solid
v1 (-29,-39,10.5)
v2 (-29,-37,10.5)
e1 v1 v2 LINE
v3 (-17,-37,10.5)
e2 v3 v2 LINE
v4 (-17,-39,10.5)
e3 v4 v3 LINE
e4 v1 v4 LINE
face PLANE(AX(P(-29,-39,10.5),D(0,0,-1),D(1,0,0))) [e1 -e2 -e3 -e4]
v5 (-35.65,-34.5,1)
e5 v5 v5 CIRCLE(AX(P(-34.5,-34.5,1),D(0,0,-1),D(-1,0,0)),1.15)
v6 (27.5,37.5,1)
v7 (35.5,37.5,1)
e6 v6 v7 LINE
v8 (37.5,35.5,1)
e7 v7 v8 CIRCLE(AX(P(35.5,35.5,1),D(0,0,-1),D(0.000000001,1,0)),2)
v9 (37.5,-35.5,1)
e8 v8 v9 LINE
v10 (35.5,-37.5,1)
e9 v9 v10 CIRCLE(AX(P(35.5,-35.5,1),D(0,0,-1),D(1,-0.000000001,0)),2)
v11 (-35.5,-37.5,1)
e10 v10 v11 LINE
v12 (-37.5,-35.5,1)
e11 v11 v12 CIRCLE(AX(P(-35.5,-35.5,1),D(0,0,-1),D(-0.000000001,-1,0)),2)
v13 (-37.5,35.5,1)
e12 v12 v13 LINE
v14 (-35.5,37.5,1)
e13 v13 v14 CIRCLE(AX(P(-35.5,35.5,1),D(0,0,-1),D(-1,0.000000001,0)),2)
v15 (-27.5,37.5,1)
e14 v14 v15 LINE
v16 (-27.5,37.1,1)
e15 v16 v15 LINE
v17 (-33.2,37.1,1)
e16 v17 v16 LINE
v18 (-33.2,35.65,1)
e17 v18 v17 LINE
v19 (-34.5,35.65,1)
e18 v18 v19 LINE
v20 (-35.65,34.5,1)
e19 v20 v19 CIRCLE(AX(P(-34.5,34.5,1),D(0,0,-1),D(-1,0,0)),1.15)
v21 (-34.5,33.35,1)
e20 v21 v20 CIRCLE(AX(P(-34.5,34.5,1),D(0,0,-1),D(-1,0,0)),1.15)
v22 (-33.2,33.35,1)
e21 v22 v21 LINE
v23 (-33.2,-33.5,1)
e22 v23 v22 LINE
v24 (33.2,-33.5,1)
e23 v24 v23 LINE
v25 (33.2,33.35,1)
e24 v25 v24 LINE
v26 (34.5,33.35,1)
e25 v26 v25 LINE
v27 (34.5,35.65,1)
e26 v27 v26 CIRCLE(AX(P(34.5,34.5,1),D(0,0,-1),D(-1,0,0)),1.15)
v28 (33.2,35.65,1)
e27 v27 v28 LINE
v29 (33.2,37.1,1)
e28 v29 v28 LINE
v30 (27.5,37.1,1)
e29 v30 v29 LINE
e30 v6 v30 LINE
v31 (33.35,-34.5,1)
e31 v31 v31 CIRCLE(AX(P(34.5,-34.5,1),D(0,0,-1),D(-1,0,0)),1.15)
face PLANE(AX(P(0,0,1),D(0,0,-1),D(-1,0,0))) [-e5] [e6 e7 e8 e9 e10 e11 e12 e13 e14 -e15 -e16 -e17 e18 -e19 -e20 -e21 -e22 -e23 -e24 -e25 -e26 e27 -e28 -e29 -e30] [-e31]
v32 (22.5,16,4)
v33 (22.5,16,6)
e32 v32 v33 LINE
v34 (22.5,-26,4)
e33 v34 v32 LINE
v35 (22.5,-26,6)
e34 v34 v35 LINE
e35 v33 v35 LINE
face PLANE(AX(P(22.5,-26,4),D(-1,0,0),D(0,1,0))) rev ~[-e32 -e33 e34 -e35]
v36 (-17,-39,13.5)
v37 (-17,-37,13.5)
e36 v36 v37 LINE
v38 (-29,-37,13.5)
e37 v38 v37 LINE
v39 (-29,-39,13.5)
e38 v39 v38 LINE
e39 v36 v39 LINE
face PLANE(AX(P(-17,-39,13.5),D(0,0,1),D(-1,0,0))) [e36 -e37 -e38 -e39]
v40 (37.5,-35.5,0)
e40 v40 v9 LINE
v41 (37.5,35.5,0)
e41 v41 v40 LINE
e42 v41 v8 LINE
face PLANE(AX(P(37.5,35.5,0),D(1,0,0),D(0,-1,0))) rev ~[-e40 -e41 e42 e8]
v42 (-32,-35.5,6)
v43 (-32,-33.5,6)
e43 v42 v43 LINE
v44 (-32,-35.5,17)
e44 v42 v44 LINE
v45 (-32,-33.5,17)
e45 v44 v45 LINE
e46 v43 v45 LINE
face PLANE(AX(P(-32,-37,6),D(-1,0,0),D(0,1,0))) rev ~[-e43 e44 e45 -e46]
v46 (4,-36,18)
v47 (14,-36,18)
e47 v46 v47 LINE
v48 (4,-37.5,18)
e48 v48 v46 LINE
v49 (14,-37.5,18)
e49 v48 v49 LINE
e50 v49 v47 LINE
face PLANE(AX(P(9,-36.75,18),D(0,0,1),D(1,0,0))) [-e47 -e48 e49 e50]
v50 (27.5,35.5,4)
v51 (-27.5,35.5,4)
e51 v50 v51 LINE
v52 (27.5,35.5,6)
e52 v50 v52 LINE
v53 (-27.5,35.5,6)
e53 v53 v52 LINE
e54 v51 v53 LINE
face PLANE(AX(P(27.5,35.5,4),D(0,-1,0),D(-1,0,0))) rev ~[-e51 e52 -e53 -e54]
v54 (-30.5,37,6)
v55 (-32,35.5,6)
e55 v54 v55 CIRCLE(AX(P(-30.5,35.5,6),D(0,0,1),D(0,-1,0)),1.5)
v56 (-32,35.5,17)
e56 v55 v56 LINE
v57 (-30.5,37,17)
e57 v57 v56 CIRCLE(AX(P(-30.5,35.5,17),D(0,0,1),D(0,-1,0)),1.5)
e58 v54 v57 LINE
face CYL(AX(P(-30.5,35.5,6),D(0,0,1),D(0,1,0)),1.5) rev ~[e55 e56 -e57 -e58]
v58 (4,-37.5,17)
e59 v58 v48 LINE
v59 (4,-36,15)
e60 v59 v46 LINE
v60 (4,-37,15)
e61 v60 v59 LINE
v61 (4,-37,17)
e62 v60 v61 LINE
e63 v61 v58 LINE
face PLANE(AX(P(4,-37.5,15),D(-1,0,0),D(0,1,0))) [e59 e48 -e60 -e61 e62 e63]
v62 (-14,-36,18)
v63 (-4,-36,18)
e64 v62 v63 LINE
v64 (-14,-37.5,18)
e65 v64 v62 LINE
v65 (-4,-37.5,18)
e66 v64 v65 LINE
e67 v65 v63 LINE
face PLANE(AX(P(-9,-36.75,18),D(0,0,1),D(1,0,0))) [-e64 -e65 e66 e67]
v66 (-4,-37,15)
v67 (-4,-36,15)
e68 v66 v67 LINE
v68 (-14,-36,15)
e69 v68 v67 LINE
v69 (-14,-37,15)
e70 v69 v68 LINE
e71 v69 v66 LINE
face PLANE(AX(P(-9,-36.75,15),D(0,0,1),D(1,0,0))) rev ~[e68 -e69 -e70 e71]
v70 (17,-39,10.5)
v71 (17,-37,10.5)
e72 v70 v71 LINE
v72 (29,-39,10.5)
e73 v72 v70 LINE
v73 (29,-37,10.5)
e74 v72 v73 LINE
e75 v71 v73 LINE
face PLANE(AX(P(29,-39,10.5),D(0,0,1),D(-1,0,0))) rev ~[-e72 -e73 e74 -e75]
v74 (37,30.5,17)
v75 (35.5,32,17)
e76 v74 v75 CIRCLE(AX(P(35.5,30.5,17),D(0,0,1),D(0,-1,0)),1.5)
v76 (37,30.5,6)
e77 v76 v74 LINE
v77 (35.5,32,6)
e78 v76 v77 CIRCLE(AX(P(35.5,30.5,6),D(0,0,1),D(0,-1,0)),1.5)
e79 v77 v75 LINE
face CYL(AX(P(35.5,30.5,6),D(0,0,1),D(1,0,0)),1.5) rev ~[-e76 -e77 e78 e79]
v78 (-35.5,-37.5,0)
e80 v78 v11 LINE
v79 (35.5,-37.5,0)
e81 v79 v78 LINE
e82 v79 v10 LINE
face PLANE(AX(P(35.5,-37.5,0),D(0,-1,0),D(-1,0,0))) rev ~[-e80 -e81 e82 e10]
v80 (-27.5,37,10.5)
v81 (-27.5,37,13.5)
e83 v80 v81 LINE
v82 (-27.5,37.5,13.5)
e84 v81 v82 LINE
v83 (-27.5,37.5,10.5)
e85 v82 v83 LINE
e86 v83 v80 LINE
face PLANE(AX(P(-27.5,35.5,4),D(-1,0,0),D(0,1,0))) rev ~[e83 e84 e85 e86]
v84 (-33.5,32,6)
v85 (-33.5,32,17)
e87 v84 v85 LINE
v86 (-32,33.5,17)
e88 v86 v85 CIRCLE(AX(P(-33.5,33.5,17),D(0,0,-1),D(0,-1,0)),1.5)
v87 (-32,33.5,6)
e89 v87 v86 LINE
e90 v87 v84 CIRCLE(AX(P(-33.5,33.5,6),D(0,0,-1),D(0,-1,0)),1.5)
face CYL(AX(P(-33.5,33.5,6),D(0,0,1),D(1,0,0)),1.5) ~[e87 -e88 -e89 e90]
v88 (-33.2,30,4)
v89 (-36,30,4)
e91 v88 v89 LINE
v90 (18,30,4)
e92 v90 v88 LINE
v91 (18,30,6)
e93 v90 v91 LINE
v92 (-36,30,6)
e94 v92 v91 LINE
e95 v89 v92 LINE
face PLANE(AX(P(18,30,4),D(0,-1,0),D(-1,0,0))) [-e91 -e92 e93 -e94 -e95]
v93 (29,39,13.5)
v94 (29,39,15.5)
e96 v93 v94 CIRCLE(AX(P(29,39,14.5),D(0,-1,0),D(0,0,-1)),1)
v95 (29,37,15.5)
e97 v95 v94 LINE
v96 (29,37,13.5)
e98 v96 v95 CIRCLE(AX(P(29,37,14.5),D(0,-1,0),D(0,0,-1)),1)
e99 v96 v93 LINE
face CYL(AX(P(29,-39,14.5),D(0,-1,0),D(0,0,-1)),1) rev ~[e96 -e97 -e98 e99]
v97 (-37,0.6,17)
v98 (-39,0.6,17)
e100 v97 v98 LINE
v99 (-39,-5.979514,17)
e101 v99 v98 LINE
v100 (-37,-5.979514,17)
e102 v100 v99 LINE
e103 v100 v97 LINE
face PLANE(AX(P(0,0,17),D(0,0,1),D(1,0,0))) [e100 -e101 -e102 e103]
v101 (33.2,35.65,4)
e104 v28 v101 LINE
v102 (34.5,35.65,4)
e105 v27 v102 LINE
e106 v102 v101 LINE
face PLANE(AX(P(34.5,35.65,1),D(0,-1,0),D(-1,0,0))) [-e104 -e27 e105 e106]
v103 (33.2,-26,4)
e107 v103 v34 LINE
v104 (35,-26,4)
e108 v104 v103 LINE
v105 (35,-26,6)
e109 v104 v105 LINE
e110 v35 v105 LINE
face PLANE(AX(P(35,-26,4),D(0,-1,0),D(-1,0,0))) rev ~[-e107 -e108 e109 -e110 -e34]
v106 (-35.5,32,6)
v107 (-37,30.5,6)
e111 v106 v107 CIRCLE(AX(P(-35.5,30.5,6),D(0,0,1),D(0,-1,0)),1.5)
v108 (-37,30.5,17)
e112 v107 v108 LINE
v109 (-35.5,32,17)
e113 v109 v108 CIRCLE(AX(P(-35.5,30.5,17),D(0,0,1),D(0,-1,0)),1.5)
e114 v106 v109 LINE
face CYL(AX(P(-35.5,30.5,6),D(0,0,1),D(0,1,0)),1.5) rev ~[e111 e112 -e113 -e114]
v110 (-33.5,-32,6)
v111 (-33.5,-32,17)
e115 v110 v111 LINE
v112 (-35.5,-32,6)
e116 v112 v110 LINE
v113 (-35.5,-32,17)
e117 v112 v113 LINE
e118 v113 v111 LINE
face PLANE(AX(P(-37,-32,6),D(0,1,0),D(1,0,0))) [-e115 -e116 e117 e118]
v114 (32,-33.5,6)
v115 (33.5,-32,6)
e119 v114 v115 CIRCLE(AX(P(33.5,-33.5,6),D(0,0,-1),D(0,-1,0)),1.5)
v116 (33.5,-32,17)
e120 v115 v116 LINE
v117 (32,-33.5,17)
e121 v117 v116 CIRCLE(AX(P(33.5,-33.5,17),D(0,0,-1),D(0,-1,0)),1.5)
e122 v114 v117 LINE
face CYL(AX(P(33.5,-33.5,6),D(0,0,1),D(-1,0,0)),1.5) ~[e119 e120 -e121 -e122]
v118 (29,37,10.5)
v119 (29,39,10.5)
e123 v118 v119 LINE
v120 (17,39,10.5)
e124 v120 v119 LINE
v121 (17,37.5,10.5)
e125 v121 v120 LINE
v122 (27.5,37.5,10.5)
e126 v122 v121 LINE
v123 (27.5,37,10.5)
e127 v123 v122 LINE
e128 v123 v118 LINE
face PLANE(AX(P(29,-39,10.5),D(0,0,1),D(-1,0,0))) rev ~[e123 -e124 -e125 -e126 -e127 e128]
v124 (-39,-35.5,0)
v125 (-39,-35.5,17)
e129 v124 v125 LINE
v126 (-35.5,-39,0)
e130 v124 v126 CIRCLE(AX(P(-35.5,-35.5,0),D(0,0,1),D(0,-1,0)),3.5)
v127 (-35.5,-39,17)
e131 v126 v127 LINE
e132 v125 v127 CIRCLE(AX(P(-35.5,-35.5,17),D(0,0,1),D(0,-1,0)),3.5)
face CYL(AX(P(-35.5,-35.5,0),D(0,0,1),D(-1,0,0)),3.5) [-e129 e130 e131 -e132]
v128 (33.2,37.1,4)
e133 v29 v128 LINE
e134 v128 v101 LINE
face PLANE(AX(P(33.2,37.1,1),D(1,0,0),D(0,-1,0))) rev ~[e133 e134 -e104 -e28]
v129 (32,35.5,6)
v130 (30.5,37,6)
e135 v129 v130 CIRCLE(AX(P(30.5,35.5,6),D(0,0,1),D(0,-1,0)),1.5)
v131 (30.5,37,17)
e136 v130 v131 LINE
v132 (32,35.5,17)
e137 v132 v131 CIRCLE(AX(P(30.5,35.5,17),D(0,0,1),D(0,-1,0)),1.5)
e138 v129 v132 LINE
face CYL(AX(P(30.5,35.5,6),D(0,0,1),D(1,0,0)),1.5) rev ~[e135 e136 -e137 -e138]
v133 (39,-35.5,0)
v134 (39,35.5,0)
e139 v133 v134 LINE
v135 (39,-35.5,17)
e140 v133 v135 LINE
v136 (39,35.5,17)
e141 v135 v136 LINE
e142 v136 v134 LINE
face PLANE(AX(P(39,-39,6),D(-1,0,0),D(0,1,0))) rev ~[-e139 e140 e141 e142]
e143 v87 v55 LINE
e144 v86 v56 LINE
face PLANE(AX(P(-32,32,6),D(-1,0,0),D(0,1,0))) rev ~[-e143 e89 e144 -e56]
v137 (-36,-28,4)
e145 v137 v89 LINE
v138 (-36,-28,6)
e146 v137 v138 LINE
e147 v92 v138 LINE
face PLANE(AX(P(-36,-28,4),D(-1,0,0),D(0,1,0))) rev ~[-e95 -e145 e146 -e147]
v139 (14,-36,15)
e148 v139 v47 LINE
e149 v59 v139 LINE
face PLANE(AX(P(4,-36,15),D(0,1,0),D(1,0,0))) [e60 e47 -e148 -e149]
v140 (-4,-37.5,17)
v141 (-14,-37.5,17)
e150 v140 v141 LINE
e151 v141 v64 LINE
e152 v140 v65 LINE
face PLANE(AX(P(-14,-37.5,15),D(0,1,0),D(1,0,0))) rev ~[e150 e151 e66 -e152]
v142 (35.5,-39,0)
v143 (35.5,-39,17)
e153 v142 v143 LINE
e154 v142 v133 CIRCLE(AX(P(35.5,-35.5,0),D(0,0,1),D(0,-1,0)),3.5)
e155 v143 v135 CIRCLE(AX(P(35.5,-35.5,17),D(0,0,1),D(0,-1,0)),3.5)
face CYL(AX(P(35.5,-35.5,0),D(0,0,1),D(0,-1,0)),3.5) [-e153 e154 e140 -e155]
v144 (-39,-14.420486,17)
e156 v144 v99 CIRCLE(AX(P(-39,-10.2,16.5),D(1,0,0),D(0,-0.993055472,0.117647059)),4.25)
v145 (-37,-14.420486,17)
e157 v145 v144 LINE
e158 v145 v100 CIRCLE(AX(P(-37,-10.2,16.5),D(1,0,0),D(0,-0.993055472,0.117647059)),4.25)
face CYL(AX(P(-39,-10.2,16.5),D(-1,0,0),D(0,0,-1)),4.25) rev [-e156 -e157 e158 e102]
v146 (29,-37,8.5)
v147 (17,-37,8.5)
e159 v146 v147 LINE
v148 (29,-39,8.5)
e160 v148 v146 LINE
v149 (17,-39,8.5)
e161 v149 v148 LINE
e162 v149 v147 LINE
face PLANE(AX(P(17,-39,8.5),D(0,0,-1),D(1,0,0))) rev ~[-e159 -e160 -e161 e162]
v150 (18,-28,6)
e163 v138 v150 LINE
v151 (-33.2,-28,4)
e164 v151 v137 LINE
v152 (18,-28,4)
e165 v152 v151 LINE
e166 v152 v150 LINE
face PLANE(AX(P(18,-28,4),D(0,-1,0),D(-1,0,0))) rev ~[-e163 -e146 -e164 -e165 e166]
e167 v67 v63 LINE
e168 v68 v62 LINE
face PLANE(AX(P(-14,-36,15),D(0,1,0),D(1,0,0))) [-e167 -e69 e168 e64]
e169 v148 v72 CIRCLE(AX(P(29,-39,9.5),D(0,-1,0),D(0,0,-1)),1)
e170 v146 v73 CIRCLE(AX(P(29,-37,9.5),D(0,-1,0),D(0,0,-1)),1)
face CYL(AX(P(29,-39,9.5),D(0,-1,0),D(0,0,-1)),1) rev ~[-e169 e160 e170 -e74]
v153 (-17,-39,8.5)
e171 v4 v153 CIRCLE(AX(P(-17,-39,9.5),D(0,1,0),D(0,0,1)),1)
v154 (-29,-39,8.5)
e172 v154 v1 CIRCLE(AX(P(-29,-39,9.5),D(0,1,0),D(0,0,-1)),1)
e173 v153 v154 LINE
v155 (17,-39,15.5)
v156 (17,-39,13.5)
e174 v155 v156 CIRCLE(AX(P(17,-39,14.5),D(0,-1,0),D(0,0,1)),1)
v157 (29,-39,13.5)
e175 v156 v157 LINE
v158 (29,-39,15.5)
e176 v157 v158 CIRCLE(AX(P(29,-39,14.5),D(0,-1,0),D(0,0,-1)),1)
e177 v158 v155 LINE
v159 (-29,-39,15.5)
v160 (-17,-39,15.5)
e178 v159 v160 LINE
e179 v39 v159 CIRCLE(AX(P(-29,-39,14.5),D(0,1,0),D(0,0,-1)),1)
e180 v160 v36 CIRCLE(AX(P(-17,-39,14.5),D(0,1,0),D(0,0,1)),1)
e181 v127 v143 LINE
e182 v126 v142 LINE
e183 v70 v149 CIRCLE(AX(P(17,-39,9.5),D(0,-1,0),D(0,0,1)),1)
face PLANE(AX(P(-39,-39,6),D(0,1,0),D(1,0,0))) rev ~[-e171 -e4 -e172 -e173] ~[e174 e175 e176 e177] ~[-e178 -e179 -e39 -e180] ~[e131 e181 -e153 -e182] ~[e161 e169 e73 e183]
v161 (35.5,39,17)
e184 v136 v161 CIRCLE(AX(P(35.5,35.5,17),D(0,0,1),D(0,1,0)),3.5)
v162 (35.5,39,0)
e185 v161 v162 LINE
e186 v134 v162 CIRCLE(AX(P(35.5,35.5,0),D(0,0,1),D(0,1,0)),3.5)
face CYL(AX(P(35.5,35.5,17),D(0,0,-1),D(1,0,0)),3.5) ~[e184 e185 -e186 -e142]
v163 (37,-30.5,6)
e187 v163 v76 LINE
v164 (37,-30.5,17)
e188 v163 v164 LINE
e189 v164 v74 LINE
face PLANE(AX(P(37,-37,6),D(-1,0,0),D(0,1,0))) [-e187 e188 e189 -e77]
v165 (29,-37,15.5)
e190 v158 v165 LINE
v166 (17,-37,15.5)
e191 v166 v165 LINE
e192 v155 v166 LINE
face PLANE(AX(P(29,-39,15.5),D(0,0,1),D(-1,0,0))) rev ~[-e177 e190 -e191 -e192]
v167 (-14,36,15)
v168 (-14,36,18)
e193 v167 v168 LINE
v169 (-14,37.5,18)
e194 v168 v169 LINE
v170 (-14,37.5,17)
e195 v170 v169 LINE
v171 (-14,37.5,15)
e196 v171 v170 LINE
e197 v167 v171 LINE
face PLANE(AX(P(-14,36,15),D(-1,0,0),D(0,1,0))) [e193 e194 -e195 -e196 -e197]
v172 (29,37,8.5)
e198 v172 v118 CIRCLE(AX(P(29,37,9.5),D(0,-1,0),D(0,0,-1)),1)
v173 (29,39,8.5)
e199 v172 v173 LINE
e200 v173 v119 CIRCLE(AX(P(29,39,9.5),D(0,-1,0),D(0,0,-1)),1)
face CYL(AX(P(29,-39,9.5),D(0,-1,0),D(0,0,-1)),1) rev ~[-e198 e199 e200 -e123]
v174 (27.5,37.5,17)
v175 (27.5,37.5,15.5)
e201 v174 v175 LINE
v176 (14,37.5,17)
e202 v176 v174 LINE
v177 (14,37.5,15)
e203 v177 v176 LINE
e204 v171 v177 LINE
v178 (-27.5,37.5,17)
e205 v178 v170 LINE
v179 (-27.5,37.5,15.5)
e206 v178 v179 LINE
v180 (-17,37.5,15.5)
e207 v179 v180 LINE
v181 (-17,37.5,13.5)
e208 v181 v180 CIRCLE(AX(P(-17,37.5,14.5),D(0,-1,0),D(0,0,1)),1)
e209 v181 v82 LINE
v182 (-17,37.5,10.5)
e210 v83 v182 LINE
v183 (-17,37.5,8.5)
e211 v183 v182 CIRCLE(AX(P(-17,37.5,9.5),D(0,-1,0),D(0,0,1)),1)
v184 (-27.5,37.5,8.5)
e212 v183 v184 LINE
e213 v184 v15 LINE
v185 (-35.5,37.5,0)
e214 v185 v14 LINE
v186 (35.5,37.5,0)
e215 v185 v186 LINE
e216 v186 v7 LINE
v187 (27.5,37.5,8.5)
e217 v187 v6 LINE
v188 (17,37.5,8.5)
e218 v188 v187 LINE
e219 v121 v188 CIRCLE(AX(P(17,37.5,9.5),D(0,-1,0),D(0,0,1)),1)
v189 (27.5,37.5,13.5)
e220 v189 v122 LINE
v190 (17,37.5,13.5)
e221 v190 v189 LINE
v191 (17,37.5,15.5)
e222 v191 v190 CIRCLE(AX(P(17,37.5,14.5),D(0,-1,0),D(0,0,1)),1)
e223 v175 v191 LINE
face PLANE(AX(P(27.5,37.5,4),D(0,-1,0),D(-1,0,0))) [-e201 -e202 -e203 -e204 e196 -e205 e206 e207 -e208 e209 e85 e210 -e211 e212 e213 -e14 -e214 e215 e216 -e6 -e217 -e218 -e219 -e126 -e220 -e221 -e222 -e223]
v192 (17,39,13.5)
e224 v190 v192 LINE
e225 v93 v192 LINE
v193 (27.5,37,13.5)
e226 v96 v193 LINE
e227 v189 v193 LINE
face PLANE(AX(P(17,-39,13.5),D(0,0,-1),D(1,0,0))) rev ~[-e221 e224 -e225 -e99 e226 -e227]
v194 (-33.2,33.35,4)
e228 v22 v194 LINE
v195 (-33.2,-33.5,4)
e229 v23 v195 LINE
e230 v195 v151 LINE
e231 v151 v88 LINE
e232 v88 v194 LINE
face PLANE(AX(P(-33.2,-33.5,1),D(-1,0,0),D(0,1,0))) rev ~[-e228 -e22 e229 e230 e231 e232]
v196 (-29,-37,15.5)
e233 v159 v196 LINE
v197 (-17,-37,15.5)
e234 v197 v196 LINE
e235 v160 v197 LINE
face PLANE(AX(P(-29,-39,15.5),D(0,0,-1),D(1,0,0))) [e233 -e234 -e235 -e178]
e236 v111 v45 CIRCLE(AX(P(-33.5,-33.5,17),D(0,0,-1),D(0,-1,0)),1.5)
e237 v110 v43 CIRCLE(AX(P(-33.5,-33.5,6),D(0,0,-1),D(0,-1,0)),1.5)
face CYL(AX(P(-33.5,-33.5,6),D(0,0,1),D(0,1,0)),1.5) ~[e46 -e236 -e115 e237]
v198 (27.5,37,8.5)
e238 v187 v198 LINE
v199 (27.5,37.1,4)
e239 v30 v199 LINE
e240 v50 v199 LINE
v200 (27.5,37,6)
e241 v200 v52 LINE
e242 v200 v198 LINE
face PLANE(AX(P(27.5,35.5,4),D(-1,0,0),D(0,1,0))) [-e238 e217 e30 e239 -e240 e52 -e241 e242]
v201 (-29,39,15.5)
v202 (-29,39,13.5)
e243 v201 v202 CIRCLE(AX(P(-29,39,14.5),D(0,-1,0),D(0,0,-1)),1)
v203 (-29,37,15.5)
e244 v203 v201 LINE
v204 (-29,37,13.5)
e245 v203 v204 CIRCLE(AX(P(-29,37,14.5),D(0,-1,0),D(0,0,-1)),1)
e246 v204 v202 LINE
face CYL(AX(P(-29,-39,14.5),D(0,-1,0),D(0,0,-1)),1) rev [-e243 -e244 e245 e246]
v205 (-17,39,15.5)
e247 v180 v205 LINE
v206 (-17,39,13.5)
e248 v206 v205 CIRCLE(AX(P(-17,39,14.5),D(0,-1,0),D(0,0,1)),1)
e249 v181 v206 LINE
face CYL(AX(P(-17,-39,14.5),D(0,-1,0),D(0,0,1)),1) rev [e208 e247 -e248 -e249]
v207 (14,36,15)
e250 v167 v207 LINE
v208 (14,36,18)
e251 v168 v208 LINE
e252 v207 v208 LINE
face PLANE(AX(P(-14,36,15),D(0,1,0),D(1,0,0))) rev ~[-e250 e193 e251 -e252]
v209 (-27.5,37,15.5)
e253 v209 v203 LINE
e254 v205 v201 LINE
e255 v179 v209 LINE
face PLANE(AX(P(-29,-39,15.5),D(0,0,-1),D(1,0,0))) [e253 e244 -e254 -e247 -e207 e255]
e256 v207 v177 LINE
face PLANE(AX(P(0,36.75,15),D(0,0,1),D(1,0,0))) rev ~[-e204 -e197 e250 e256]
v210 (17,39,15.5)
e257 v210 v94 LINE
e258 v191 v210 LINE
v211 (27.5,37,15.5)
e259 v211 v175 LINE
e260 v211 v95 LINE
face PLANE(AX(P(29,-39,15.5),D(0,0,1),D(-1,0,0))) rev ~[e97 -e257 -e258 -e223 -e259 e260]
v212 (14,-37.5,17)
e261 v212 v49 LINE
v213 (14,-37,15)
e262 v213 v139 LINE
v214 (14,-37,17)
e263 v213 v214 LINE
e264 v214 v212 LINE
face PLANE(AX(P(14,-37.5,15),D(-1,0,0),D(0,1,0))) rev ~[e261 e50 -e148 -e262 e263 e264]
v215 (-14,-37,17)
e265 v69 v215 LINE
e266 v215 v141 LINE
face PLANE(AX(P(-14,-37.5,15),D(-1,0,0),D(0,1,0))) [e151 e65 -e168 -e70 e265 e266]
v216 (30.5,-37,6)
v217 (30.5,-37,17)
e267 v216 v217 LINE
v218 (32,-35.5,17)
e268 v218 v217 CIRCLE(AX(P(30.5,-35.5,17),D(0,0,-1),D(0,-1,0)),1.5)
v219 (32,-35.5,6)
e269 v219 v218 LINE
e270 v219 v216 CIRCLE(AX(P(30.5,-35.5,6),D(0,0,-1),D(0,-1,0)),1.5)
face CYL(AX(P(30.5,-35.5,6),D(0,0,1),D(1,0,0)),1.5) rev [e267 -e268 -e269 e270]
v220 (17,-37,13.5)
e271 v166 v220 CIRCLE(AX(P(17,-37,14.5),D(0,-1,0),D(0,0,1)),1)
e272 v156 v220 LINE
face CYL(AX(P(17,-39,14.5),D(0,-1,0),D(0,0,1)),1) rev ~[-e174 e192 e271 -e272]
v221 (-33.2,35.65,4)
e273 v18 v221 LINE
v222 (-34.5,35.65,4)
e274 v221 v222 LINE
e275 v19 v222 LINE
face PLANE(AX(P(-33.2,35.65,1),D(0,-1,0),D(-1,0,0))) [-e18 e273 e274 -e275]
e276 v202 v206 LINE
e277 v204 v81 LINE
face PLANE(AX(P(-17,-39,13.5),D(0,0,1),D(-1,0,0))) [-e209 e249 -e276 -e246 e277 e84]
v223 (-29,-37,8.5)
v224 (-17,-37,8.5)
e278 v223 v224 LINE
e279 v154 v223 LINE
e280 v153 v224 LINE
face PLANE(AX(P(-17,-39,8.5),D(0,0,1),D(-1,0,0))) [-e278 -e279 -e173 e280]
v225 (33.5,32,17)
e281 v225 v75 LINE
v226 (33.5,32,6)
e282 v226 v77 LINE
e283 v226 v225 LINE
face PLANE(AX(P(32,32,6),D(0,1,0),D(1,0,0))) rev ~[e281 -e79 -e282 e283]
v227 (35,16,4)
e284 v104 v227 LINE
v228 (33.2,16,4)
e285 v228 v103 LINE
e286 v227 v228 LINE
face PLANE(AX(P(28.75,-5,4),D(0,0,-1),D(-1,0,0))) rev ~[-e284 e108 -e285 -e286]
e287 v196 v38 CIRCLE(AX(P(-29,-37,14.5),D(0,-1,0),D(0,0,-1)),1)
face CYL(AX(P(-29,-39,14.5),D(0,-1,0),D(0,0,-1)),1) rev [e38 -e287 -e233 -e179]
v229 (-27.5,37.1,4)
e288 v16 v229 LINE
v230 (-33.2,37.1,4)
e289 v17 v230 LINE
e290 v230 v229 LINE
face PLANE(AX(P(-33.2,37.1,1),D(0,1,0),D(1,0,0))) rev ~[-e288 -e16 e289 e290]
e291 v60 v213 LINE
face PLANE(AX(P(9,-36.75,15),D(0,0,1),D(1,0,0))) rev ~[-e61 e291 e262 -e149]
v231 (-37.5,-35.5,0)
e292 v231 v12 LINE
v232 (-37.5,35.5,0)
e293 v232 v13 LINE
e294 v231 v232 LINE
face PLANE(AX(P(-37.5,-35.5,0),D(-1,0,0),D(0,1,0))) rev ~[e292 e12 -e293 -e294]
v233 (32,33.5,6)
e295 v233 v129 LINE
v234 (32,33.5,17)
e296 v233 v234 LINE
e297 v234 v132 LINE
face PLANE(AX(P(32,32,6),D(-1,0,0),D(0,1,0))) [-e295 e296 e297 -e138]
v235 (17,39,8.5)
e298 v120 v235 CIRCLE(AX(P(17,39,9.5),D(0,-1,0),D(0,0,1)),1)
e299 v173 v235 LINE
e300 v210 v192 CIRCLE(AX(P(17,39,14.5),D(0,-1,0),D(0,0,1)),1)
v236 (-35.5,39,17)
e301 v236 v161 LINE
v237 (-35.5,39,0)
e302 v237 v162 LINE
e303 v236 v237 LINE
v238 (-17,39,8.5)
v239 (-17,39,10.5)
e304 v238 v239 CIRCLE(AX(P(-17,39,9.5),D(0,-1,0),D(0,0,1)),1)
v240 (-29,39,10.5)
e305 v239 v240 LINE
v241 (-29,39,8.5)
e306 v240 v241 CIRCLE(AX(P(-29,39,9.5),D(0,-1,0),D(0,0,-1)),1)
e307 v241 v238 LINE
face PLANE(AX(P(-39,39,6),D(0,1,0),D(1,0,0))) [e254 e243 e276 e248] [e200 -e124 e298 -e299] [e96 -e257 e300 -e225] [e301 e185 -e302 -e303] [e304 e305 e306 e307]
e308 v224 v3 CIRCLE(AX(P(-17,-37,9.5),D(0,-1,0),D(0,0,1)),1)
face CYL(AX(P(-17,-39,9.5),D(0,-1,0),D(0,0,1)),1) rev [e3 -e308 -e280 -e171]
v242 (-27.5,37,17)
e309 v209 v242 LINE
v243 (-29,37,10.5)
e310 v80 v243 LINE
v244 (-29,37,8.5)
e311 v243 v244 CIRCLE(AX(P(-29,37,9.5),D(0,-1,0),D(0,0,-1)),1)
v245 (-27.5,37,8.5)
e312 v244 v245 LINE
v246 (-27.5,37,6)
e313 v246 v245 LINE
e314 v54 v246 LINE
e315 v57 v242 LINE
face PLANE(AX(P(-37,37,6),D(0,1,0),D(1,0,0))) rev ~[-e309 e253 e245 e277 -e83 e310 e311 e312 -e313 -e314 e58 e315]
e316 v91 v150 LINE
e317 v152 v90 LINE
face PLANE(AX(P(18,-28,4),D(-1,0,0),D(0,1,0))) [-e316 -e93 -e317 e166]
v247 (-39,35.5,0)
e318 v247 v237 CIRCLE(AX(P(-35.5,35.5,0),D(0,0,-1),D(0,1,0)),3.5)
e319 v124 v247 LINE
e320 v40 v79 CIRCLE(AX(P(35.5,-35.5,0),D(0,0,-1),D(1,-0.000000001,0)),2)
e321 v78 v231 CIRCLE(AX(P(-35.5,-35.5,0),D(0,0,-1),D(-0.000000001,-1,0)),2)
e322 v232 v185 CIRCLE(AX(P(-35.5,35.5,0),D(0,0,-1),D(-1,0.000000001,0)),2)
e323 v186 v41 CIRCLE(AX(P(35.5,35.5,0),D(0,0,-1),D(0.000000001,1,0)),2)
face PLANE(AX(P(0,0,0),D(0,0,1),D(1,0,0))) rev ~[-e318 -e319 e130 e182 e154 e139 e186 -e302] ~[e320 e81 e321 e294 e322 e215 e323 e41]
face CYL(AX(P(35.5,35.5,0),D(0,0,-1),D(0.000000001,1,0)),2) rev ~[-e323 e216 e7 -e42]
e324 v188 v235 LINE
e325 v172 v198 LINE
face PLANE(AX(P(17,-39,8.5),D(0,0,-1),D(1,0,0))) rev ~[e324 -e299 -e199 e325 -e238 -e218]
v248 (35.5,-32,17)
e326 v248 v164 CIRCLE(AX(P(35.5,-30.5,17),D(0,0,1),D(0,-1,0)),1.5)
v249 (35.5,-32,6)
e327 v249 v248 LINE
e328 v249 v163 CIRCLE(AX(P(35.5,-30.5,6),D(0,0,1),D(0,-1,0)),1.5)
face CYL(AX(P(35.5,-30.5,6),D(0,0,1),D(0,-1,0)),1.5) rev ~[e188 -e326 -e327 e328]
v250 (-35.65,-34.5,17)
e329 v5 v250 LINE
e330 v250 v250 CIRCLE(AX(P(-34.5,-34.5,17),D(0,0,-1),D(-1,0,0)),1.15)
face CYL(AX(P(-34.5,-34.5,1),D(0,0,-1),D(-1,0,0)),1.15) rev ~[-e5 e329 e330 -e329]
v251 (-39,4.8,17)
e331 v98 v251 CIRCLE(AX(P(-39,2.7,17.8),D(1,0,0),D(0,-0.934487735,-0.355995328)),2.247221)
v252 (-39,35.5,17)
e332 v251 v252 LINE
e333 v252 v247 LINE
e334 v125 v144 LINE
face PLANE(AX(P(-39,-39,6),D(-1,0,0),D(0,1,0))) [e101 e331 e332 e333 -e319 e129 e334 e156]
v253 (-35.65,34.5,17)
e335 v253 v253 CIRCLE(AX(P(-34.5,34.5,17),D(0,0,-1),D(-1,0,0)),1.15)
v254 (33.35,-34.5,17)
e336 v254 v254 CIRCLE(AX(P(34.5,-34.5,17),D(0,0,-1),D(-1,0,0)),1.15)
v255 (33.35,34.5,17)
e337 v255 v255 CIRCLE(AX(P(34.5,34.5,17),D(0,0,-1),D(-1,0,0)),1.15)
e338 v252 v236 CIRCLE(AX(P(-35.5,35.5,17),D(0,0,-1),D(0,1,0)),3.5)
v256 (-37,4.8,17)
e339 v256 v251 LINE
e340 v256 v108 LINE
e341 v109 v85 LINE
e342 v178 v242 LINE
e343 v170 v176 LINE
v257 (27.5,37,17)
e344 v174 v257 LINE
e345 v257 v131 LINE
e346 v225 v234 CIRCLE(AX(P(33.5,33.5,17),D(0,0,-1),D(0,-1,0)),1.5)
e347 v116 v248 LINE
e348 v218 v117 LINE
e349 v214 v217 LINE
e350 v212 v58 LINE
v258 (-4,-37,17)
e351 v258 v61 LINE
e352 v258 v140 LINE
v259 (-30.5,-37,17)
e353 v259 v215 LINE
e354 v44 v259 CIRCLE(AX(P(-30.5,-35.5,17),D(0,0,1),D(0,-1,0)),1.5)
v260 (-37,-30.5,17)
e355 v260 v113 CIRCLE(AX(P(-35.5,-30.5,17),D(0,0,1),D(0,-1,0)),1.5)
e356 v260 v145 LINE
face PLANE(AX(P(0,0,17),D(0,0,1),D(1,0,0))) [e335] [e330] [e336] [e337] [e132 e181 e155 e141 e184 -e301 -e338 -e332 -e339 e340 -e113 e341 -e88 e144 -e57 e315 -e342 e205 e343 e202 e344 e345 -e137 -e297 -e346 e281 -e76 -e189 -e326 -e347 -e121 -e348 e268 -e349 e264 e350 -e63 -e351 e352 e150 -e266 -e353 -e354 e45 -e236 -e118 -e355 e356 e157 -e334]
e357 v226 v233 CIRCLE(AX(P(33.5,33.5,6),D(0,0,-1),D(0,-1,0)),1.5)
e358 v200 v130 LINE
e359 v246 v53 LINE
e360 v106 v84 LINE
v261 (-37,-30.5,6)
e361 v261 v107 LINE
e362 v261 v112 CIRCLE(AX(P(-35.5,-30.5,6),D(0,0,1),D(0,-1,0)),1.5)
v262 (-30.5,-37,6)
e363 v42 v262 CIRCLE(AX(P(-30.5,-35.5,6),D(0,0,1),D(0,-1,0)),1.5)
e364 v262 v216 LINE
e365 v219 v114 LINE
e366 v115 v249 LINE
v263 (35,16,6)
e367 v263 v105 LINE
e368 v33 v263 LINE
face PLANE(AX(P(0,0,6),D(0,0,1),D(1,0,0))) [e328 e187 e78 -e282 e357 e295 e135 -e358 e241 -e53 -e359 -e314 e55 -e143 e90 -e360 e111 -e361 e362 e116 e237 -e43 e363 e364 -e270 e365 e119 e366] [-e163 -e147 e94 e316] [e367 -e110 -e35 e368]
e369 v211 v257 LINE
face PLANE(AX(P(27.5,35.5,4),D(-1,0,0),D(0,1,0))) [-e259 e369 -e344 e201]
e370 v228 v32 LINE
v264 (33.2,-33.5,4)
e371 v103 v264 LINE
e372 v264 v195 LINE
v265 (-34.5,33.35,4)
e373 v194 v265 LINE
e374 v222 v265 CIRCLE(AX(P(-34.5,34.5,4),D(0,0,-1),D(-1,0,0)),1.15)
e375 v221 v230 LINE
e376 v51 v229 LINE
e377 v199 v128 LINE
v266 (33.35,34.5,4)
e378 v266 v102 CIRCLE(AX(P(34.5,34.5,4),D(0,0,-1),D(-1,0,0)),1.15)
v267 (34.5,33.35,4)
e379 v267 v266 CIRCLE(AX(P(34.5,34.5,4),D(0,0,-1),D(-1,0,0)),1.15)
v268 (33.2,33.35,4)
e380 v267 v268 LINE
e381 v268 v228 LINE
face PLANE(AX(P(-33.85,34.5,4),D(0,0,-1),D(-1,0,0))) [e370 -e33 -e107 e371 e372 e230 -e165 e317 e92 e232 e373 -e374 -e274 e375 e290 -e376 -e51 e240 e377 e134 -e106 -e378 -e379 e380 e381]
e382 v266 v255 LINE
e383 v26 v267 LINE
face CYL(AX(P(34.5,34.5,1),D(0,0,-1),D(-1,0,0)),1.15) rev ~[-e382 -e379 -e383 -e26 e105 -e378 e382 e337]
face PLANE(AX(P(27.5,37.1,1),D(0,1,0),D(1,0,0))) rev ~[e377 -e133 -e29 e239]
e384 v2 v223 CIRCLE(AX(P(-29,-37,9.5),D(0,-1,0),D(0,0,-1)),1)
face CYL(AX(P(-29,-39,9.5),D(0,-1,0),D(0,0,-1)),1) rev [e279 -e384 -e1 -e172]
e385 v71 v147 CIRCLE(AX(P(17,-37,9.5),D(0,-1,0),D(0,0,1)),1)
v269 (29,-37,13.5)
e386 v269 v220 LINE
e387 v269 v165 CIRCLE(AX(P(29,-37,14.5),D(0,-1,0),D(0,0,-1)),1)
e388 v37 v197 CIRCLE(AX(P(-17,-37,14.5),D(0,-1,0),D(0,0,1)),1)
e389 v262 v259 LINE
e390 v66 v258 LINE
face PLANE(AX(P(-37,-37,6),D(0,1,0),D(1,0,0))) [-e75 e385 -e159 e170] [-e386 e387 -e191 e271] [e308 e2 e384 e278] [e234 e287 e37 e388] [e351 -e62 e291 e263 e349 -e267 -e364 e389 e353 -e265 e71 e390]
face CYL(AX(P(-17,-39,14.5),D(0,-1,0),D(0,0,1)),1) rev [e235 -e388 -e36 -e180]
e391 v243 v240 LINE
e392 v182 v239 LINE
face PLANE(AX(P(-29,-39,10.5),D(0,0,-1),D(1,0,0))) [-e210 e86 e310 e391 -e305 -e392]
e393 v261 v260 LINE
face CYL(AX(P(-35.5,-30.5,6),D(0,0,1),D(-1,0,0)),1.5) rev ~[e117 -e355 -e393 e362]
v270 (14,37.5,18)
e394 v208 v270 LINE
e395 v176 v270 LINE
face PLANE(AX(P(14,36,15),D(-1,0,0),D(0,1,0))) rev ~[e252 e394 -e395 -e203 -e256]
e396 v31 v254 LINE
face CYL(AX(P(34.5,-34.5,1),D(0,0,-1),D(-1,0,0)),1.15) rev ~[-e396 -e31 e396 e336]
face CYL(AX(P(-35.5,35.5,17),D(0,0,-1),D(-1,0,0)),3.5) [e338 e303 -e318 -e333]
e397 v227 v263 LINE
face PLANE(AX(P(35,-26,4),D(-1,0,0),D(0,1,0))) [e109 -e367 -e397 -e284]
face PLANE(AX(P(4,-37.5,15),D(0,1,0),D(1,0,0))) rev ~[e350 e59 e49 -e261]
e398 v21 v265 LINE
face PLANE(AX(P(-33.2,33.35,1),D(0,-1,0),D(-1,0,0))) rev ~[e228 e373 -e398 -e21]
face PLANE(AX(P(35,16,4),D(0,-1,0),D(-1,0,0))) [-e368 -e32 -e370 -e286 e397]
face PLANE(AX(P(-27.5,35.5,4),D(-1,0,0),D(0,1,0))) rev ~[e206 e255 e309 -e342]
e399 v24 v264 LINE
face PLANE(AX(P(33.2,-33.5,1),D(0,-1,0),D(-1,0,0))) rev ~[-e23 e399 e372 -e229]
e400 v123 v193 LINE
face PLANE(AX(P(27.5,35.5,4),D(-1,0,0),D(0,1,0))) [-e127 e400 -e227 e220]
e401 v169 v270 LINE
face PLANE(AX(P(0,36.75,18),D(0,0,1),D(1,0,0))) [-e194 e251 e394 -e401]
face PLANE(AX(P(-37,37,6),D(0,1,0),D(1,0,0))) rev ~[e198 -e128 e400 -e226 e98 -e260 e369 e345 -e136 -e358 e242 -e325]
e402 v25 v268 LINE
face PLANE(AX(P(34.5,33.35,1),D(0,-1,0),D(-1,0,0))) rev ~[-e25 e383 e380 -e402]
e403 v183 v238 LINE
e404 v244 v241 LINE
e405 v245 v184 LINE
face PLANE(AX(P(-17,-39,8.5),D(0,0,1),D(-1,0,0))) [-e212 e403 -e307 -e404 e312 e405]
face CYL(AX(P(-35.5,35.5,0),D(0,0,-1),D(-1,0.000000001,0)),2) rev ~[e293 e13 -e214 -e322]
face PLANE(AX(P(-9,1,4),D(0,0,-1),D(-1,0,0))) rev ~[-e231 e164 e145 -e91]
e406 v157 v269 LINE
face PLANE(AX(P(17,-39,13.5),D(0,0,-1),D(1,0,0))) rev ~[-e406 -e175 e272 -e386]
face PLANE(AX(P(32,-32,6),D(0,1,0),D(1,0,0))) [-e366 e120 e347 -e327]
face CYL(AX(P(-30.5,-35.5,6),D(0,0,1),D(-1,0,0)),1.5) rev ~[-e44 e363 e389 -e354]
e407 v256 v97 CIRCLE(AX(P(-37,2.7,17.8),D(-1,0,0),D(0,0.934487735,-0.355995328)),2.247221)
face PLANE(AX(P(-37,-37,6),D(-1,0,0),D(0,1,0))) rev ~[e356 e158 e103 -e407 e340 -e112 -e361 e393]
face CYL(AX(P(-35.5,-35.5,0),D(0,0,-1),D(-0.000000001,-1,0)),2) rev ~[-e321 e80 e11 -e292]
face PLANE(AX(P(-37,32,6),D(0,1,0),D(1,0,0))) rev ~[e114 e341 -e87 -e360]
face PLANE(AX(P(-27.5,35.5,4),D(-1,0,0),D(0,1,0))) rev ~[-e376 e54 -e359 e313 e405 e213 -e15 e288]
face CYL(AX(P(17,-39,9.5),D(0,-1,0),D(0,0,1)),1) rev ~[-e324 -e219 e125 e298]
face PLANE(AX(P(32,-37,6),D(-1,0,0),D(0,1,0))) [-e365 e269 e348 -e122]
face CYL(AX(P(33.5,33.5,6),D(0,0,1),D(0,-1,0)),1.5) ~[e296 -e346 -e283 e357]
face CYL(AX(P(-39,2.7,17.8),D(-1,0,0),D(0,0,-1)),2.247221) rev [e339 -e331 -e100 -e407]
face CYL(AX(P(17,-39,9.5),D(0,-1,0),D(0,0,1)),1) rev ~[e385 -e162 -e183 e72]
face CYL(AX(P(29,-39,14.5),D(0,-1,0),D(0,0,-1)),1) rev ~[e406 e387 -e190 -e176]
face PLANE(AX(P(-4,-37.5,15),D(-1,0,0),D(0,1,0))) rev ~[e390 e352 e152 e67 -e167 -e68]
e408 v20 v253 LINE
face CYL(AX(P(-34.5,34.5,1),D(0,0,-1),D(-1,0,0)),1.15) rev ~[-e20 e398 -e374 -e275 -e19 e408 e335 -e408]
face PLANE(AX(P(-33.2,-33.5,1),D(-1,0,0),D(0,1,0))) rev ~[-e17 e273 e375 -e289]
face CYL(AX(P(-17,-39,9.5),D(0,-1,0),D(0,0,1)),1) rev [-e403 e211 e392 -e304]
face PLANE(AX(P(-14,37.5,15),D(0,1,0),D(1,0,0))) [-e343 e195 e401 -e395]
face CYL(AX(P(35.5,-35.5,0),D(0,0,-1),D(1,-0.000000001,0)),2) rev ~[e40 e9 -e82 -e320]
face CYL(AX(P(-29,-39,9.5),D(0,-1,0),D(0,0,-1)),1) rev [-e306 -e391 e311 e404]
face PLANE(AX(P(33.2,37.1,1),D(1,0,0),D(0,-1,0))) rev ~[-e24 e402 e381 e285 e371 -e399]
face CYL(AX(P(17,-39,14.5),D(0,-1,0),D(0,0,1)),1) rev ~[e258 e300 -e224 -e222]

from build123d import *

# Parameters (mm, degrees)
SKETCH_1_W           = 78
SKETCH_1_H           = 78
EXTRUDE_1_DEPTH      = 6
SKETCH_2_W           = 78
SKETCH_2_H           = 78
SKETCH_2_W_2         = 74
SKETCH_2_H_2         = 74
SKETCH_2_W_3         = 5
SKETCH_2_H_3         = 5
EXTRUDE_2_DEPTH      = 11
FILLET_1_R           = 1.5
FILLET_2_R           = 3.5
CUT_EXTRUDE_1_DEPTH  = 1
CUT_EXTRUDE_2_DEPTH  = 3
SKETCH_5_R           = 1.15
CUT_EXTRUDE_3_DEPTH  = 58.428216061
SKETCH_6_W           = 55
SKETCH_6_H           = 2
SKETCH_6_W_2         = 54
SKETCH_6_H_2         = 58
SKETCH_6_W_3         = 12.5
SKETCH_6_H_3         = 42
CUT_EXTRUDE_4_DEPTH  = 57.665686266
EXTRUDE_3_DEPTH      = 1
EXTRUDE_3_DEPTH_BACK = 2
SKETCH_7_W           = 10
SKETCH_7_H           = 1.5
SKETCH_7_W_2         = 28
SKETCH_8_R           = 4.25
SKETCH_8_R_2         = 2.247220505
CUT_EXTRUDE_5_DEPTH  = 10
CUT_EXTRUDE_6_DEPTH  = 90.044932478
SKETCH_10_W          = 1.3
SKETCH_10_H          = 2.3
CUT_EXTRUDE_7_DEPTH  = 3


with BuildPart() as part:
    # 草图1 → 凸台-拉伸1 (new body)
    with BuildSketch(Plane.XY):
        Rectangle(SKETCH_1_W, SKETCH_1_H)
    extrude(amount=EXTRUDE_1_DEPTH)

    # 草图2 → 凸台-拉伸2 (add)
    # profile 1 of 5: a face of its own
    with BuildSketch(Plane.XY.offset(6)):
        Rectangle(SKETCH_2_W, SKETCH_2_H)
        Rectangle(SKETCH_2_W_2, SKETCH_2_H_2, mode=Mode.SUBTRACT)
    # profile 2 of 5: a face of its own
    with BuildSketch(Plane.XY.offset(6)):
        with Locations((-34.5, 34.5)):
            Rectangle(SKETCH_2_W_3, SKETCH_2_H_3)
    # profile 3 of 5: a face of its own
    with BuildSketch(Plane.XY.offset(6)):
        with Locations((34.5, 34.5)):
            Rectangle(SKETCH_2_W_3, SKETCH_2_H_3)
    # profile 4 of 5: a face of its own
    with BuildSketch(Plane.XY.offset(6)):
        with Locations((34.5, -34.5)):
            Rectangle(SKETCH_2_W_3, SKETCH_2_H_3)
    # profile 5 of 5: a face of its own
    with BuildSketch(Plane.XY.offset(6)):
        with Locations((-34.5, -34.5)):
            Rectangle(SKETCH_2_W_3, SKETCH_2_H_3)
    extrude(amount=EXTRUDE_2_DEPTH)

    # 圆角1
    fillet_1_edges = [part.edges().sort_by_distance(p)[0] for p in [
        (-37, -32, 11.5),
        (-37, 32, 11.5),
        (-32, 32, 11.5),
        (-32, 37, 11.5),
        (32, 37, 11.5),
        (32, 32, 11.5),
        (37, 32, 11.5),
        (37, -32, 11.5),
        (32, -32, 11.5),
        (32, -37, 11.5),
        (-32, -37, 11.5),
        (-32, -32, 11.5),
    ]]
    fillet(fillet_1_edges, radius=FILLET_1_R)

    # 圆角2
    fillet_2_edges = [part.edges().sort_by_distance(p)[0] for p in [
        (39, -39, 8.5),
        (-39, -39, 8.5),
        (-39, 39, 8.5),
        (39, 39, 8.5),
    ]]
    fillet(fillet_2_edges, radius=FILLET_2_R)

    # 草图3 → 切除-拉伸1 (cut)
    with BuildSketch(Plane(origin=(0, 0, 0), x_dir=(-1, 0, 0), z_dir=(0, 0, -1))):
        with BuildLine():
            Line((37.5, -35.5), (37.5, 35.5))
            ThreePointArc((37.5, 35.5), (36.914213562, 36.914213562), (35.5, 37.5))
            Line((35.5, 37.5), (-35.5, 37.5))
            ThreePointArc((-35.5, 37.5), (-36.914213562, 36.914213562), (-37.5, 35.5))
            Line((-37.5, 35.5), (-37.5, -35.5))
            ThreePointArc((-37.5, -35.5), (-36.914213562, -36.914213562), (-35.5, -37.5))
            Line((-35.5, -37.5), (35.5, -37.5))
            ThreePointArc((35.5, -37.5), (36.914213562, -36.914213562), (37.5, -35.5))
        make_face()
    extrude(amount=-CUT_EXTRUDE_1_DEPTH, mode=Mode.SUBTRACT)

    # 草图4 → 切除-拉伸2 (cut)
    with BuildSketch(Plane(origin=(0, 0, 1), x_dir=(-1, 0, 0), z_dir=(0, 0, -1))):
        Polygon((27.5, 37.5), (-27.5, 37.5), (-27.5, 37.1), (-33.2, 37.1), (-33.2, -33.5), (33.2, -33.5), (33.2, 37.1), (27.5, 37.1), align=None)
    extrude(amount=-CUT_EXTRUDE_2_DEPTH, mode=Mode.SUBTRACT)

    # 草图5 → 切除-拉伸3 (cut, through all)
    with BuildSketch(Plane(origin=(0, 0, 1), x_dir=(-1, 0, 0), z_dir=(0, 0, -1))):
        with Locations((-34.5, 34.5)):
            Circle(SKETCH_5_R)
        with Locations((34.5, 34.5)):
            Circle(SKETCH_5_R)
        with Locations((34.5, -34.5)):
            Circle(SKETCH_5_R)
        with Locations((-34.5, -34.5)):
            Circle(SKETCH_5_R)
    extrude(amount=-CUT_EXTRUDE_3_DEPTH, mode=Mode.SUBTRACT)

    # 草图6 → 切除-拉伸4 (cut, through all)
    with BuildSketch(Plane(origin=(0, 0, 4), x_dir=(-1, 0, 0), z_dir=(0, 0, -1))):
        with Locations((0, 36.5)):
            Rectangle(SKETCH_6_W, SKETCH_6_H)
        with Locations((9, 1)):
            Rectangle(SKETCH_6_W_2, SKETCH_6_H_2)
        with Locations((-28.75, -5)):
            Rectangle(SKETCH_6_W_3, SKETCH_6_H_3)
    extrude(amount=-CUT_EXTRUDE_4_DEPTH, mode=Mode.SUBTRACT)

    # 草图7 → 凸台-拉伸3 (add, two sides: drawn at the far end of the back side and taken through both)
    with BuildSketch(Plane.XY.offset(17).offset(-EXTRUDE_3_DEPTH_BACK)):
        with Locations((9, -36.75)):
            Rectangle(SKETCH_7_W, SKETCH_7_H)
        with Locations((-9, -36.75)):
            Rectangle(SKETCH_7_W, SKETCH_7_H)
        with Locations((0, 36.75)):
            Rectangle(SKETCH_7_W_2, SKETCH_7_H)
    extrude(amount=EXTRUDE_3_DEPTH + EXTRUDE_3_DEPTH_BACK)

    # 草图8 → 切除-拉伸5 (cut)
    with BuildSketch(Plane(origin=(-39, 0, 0), x_dir=(0, 0, -1), z_dir=(1, 0, 0))):
        with Locations((-16.5, -10.2)):
            Circle(SKETCH_8_R)
        with Locations((-17.8, 2.7)):
            Circle(SKETCH_8_R_2)
    extrude(amount=CUT_EXTRUDE_5_DEPTH, mode=Mode.SUBTRACT)

    # 草图9 → 切除-拉伸6 (cut, through all)
    with BuildSketch(Plane.XZ.offset(39)):
        with BuildLine():
            Line((-29, 15.5), (-17, 15.5))
            ThreePointArc((-17, 15.5), (-16, 14.5), (-17, 13.5))
            Line((-17, 13.5), (-29, 13.5))
            ThreePointArc((-29, 13.5), (-30, 14.5), (-29, 15.5))
        make_face()
        with BuildLine():
            Line((-29, 10.5), (-17, 10.5))
            ThreePointArc((-17, 10.5), (-16, 9.5), (-17, 8.5))
            Line((-17, 8.5), (-29, 8.5))
            ThreePointArc((-29, 8.5), (-30, 9.5), (-29, 10.5))
        make_face()
        with BuildLine():
            Line((29, 10.5), (17, 10.5))
            ThreePointArc((17, 10.5), (16, 9.5), (17, 8.5))
            Line((17, 8.5), (29, 8.5))
            ThreePointArc((29, 8.5), (30, 9.5), (29, 10.5))
        make_face()
        with BuildLine():
            Line((29, 15.5), (17, 15.5))
            ThreePointArc((17, 15.5), (16, 14.5), (17, 13.5))
            Line((17, 13.5), (29, 13.5))
            ThreePointArc((29, 13.5), (30, 14.5), (29, 15.5))
        make_face()
    extrude(amount=-CUT_EXTRUDE_6_DEPTH, mode=Mode.SUBTRACT)

    # 草图10 → 切除-拉伸7 (cut)
    with BuildSketch(Plane(origin=(0, 0, 1), x_dir=(-1, 0, 0), z_dir=(0, 0, -1))):
        with Locations((-33.85, 34.5)):
            Rectangle(SKETCH_10_W, SKETCH_10_H)
        with Locations((33.85, 34.5)):
            Rectangle(SKETCH_10_W, SKETCH_10_H)
    extrude(amount=-CUT_EXTRUDE_7_DEPTH, mode=Mode.SUBTRACT)


solid = part.part
